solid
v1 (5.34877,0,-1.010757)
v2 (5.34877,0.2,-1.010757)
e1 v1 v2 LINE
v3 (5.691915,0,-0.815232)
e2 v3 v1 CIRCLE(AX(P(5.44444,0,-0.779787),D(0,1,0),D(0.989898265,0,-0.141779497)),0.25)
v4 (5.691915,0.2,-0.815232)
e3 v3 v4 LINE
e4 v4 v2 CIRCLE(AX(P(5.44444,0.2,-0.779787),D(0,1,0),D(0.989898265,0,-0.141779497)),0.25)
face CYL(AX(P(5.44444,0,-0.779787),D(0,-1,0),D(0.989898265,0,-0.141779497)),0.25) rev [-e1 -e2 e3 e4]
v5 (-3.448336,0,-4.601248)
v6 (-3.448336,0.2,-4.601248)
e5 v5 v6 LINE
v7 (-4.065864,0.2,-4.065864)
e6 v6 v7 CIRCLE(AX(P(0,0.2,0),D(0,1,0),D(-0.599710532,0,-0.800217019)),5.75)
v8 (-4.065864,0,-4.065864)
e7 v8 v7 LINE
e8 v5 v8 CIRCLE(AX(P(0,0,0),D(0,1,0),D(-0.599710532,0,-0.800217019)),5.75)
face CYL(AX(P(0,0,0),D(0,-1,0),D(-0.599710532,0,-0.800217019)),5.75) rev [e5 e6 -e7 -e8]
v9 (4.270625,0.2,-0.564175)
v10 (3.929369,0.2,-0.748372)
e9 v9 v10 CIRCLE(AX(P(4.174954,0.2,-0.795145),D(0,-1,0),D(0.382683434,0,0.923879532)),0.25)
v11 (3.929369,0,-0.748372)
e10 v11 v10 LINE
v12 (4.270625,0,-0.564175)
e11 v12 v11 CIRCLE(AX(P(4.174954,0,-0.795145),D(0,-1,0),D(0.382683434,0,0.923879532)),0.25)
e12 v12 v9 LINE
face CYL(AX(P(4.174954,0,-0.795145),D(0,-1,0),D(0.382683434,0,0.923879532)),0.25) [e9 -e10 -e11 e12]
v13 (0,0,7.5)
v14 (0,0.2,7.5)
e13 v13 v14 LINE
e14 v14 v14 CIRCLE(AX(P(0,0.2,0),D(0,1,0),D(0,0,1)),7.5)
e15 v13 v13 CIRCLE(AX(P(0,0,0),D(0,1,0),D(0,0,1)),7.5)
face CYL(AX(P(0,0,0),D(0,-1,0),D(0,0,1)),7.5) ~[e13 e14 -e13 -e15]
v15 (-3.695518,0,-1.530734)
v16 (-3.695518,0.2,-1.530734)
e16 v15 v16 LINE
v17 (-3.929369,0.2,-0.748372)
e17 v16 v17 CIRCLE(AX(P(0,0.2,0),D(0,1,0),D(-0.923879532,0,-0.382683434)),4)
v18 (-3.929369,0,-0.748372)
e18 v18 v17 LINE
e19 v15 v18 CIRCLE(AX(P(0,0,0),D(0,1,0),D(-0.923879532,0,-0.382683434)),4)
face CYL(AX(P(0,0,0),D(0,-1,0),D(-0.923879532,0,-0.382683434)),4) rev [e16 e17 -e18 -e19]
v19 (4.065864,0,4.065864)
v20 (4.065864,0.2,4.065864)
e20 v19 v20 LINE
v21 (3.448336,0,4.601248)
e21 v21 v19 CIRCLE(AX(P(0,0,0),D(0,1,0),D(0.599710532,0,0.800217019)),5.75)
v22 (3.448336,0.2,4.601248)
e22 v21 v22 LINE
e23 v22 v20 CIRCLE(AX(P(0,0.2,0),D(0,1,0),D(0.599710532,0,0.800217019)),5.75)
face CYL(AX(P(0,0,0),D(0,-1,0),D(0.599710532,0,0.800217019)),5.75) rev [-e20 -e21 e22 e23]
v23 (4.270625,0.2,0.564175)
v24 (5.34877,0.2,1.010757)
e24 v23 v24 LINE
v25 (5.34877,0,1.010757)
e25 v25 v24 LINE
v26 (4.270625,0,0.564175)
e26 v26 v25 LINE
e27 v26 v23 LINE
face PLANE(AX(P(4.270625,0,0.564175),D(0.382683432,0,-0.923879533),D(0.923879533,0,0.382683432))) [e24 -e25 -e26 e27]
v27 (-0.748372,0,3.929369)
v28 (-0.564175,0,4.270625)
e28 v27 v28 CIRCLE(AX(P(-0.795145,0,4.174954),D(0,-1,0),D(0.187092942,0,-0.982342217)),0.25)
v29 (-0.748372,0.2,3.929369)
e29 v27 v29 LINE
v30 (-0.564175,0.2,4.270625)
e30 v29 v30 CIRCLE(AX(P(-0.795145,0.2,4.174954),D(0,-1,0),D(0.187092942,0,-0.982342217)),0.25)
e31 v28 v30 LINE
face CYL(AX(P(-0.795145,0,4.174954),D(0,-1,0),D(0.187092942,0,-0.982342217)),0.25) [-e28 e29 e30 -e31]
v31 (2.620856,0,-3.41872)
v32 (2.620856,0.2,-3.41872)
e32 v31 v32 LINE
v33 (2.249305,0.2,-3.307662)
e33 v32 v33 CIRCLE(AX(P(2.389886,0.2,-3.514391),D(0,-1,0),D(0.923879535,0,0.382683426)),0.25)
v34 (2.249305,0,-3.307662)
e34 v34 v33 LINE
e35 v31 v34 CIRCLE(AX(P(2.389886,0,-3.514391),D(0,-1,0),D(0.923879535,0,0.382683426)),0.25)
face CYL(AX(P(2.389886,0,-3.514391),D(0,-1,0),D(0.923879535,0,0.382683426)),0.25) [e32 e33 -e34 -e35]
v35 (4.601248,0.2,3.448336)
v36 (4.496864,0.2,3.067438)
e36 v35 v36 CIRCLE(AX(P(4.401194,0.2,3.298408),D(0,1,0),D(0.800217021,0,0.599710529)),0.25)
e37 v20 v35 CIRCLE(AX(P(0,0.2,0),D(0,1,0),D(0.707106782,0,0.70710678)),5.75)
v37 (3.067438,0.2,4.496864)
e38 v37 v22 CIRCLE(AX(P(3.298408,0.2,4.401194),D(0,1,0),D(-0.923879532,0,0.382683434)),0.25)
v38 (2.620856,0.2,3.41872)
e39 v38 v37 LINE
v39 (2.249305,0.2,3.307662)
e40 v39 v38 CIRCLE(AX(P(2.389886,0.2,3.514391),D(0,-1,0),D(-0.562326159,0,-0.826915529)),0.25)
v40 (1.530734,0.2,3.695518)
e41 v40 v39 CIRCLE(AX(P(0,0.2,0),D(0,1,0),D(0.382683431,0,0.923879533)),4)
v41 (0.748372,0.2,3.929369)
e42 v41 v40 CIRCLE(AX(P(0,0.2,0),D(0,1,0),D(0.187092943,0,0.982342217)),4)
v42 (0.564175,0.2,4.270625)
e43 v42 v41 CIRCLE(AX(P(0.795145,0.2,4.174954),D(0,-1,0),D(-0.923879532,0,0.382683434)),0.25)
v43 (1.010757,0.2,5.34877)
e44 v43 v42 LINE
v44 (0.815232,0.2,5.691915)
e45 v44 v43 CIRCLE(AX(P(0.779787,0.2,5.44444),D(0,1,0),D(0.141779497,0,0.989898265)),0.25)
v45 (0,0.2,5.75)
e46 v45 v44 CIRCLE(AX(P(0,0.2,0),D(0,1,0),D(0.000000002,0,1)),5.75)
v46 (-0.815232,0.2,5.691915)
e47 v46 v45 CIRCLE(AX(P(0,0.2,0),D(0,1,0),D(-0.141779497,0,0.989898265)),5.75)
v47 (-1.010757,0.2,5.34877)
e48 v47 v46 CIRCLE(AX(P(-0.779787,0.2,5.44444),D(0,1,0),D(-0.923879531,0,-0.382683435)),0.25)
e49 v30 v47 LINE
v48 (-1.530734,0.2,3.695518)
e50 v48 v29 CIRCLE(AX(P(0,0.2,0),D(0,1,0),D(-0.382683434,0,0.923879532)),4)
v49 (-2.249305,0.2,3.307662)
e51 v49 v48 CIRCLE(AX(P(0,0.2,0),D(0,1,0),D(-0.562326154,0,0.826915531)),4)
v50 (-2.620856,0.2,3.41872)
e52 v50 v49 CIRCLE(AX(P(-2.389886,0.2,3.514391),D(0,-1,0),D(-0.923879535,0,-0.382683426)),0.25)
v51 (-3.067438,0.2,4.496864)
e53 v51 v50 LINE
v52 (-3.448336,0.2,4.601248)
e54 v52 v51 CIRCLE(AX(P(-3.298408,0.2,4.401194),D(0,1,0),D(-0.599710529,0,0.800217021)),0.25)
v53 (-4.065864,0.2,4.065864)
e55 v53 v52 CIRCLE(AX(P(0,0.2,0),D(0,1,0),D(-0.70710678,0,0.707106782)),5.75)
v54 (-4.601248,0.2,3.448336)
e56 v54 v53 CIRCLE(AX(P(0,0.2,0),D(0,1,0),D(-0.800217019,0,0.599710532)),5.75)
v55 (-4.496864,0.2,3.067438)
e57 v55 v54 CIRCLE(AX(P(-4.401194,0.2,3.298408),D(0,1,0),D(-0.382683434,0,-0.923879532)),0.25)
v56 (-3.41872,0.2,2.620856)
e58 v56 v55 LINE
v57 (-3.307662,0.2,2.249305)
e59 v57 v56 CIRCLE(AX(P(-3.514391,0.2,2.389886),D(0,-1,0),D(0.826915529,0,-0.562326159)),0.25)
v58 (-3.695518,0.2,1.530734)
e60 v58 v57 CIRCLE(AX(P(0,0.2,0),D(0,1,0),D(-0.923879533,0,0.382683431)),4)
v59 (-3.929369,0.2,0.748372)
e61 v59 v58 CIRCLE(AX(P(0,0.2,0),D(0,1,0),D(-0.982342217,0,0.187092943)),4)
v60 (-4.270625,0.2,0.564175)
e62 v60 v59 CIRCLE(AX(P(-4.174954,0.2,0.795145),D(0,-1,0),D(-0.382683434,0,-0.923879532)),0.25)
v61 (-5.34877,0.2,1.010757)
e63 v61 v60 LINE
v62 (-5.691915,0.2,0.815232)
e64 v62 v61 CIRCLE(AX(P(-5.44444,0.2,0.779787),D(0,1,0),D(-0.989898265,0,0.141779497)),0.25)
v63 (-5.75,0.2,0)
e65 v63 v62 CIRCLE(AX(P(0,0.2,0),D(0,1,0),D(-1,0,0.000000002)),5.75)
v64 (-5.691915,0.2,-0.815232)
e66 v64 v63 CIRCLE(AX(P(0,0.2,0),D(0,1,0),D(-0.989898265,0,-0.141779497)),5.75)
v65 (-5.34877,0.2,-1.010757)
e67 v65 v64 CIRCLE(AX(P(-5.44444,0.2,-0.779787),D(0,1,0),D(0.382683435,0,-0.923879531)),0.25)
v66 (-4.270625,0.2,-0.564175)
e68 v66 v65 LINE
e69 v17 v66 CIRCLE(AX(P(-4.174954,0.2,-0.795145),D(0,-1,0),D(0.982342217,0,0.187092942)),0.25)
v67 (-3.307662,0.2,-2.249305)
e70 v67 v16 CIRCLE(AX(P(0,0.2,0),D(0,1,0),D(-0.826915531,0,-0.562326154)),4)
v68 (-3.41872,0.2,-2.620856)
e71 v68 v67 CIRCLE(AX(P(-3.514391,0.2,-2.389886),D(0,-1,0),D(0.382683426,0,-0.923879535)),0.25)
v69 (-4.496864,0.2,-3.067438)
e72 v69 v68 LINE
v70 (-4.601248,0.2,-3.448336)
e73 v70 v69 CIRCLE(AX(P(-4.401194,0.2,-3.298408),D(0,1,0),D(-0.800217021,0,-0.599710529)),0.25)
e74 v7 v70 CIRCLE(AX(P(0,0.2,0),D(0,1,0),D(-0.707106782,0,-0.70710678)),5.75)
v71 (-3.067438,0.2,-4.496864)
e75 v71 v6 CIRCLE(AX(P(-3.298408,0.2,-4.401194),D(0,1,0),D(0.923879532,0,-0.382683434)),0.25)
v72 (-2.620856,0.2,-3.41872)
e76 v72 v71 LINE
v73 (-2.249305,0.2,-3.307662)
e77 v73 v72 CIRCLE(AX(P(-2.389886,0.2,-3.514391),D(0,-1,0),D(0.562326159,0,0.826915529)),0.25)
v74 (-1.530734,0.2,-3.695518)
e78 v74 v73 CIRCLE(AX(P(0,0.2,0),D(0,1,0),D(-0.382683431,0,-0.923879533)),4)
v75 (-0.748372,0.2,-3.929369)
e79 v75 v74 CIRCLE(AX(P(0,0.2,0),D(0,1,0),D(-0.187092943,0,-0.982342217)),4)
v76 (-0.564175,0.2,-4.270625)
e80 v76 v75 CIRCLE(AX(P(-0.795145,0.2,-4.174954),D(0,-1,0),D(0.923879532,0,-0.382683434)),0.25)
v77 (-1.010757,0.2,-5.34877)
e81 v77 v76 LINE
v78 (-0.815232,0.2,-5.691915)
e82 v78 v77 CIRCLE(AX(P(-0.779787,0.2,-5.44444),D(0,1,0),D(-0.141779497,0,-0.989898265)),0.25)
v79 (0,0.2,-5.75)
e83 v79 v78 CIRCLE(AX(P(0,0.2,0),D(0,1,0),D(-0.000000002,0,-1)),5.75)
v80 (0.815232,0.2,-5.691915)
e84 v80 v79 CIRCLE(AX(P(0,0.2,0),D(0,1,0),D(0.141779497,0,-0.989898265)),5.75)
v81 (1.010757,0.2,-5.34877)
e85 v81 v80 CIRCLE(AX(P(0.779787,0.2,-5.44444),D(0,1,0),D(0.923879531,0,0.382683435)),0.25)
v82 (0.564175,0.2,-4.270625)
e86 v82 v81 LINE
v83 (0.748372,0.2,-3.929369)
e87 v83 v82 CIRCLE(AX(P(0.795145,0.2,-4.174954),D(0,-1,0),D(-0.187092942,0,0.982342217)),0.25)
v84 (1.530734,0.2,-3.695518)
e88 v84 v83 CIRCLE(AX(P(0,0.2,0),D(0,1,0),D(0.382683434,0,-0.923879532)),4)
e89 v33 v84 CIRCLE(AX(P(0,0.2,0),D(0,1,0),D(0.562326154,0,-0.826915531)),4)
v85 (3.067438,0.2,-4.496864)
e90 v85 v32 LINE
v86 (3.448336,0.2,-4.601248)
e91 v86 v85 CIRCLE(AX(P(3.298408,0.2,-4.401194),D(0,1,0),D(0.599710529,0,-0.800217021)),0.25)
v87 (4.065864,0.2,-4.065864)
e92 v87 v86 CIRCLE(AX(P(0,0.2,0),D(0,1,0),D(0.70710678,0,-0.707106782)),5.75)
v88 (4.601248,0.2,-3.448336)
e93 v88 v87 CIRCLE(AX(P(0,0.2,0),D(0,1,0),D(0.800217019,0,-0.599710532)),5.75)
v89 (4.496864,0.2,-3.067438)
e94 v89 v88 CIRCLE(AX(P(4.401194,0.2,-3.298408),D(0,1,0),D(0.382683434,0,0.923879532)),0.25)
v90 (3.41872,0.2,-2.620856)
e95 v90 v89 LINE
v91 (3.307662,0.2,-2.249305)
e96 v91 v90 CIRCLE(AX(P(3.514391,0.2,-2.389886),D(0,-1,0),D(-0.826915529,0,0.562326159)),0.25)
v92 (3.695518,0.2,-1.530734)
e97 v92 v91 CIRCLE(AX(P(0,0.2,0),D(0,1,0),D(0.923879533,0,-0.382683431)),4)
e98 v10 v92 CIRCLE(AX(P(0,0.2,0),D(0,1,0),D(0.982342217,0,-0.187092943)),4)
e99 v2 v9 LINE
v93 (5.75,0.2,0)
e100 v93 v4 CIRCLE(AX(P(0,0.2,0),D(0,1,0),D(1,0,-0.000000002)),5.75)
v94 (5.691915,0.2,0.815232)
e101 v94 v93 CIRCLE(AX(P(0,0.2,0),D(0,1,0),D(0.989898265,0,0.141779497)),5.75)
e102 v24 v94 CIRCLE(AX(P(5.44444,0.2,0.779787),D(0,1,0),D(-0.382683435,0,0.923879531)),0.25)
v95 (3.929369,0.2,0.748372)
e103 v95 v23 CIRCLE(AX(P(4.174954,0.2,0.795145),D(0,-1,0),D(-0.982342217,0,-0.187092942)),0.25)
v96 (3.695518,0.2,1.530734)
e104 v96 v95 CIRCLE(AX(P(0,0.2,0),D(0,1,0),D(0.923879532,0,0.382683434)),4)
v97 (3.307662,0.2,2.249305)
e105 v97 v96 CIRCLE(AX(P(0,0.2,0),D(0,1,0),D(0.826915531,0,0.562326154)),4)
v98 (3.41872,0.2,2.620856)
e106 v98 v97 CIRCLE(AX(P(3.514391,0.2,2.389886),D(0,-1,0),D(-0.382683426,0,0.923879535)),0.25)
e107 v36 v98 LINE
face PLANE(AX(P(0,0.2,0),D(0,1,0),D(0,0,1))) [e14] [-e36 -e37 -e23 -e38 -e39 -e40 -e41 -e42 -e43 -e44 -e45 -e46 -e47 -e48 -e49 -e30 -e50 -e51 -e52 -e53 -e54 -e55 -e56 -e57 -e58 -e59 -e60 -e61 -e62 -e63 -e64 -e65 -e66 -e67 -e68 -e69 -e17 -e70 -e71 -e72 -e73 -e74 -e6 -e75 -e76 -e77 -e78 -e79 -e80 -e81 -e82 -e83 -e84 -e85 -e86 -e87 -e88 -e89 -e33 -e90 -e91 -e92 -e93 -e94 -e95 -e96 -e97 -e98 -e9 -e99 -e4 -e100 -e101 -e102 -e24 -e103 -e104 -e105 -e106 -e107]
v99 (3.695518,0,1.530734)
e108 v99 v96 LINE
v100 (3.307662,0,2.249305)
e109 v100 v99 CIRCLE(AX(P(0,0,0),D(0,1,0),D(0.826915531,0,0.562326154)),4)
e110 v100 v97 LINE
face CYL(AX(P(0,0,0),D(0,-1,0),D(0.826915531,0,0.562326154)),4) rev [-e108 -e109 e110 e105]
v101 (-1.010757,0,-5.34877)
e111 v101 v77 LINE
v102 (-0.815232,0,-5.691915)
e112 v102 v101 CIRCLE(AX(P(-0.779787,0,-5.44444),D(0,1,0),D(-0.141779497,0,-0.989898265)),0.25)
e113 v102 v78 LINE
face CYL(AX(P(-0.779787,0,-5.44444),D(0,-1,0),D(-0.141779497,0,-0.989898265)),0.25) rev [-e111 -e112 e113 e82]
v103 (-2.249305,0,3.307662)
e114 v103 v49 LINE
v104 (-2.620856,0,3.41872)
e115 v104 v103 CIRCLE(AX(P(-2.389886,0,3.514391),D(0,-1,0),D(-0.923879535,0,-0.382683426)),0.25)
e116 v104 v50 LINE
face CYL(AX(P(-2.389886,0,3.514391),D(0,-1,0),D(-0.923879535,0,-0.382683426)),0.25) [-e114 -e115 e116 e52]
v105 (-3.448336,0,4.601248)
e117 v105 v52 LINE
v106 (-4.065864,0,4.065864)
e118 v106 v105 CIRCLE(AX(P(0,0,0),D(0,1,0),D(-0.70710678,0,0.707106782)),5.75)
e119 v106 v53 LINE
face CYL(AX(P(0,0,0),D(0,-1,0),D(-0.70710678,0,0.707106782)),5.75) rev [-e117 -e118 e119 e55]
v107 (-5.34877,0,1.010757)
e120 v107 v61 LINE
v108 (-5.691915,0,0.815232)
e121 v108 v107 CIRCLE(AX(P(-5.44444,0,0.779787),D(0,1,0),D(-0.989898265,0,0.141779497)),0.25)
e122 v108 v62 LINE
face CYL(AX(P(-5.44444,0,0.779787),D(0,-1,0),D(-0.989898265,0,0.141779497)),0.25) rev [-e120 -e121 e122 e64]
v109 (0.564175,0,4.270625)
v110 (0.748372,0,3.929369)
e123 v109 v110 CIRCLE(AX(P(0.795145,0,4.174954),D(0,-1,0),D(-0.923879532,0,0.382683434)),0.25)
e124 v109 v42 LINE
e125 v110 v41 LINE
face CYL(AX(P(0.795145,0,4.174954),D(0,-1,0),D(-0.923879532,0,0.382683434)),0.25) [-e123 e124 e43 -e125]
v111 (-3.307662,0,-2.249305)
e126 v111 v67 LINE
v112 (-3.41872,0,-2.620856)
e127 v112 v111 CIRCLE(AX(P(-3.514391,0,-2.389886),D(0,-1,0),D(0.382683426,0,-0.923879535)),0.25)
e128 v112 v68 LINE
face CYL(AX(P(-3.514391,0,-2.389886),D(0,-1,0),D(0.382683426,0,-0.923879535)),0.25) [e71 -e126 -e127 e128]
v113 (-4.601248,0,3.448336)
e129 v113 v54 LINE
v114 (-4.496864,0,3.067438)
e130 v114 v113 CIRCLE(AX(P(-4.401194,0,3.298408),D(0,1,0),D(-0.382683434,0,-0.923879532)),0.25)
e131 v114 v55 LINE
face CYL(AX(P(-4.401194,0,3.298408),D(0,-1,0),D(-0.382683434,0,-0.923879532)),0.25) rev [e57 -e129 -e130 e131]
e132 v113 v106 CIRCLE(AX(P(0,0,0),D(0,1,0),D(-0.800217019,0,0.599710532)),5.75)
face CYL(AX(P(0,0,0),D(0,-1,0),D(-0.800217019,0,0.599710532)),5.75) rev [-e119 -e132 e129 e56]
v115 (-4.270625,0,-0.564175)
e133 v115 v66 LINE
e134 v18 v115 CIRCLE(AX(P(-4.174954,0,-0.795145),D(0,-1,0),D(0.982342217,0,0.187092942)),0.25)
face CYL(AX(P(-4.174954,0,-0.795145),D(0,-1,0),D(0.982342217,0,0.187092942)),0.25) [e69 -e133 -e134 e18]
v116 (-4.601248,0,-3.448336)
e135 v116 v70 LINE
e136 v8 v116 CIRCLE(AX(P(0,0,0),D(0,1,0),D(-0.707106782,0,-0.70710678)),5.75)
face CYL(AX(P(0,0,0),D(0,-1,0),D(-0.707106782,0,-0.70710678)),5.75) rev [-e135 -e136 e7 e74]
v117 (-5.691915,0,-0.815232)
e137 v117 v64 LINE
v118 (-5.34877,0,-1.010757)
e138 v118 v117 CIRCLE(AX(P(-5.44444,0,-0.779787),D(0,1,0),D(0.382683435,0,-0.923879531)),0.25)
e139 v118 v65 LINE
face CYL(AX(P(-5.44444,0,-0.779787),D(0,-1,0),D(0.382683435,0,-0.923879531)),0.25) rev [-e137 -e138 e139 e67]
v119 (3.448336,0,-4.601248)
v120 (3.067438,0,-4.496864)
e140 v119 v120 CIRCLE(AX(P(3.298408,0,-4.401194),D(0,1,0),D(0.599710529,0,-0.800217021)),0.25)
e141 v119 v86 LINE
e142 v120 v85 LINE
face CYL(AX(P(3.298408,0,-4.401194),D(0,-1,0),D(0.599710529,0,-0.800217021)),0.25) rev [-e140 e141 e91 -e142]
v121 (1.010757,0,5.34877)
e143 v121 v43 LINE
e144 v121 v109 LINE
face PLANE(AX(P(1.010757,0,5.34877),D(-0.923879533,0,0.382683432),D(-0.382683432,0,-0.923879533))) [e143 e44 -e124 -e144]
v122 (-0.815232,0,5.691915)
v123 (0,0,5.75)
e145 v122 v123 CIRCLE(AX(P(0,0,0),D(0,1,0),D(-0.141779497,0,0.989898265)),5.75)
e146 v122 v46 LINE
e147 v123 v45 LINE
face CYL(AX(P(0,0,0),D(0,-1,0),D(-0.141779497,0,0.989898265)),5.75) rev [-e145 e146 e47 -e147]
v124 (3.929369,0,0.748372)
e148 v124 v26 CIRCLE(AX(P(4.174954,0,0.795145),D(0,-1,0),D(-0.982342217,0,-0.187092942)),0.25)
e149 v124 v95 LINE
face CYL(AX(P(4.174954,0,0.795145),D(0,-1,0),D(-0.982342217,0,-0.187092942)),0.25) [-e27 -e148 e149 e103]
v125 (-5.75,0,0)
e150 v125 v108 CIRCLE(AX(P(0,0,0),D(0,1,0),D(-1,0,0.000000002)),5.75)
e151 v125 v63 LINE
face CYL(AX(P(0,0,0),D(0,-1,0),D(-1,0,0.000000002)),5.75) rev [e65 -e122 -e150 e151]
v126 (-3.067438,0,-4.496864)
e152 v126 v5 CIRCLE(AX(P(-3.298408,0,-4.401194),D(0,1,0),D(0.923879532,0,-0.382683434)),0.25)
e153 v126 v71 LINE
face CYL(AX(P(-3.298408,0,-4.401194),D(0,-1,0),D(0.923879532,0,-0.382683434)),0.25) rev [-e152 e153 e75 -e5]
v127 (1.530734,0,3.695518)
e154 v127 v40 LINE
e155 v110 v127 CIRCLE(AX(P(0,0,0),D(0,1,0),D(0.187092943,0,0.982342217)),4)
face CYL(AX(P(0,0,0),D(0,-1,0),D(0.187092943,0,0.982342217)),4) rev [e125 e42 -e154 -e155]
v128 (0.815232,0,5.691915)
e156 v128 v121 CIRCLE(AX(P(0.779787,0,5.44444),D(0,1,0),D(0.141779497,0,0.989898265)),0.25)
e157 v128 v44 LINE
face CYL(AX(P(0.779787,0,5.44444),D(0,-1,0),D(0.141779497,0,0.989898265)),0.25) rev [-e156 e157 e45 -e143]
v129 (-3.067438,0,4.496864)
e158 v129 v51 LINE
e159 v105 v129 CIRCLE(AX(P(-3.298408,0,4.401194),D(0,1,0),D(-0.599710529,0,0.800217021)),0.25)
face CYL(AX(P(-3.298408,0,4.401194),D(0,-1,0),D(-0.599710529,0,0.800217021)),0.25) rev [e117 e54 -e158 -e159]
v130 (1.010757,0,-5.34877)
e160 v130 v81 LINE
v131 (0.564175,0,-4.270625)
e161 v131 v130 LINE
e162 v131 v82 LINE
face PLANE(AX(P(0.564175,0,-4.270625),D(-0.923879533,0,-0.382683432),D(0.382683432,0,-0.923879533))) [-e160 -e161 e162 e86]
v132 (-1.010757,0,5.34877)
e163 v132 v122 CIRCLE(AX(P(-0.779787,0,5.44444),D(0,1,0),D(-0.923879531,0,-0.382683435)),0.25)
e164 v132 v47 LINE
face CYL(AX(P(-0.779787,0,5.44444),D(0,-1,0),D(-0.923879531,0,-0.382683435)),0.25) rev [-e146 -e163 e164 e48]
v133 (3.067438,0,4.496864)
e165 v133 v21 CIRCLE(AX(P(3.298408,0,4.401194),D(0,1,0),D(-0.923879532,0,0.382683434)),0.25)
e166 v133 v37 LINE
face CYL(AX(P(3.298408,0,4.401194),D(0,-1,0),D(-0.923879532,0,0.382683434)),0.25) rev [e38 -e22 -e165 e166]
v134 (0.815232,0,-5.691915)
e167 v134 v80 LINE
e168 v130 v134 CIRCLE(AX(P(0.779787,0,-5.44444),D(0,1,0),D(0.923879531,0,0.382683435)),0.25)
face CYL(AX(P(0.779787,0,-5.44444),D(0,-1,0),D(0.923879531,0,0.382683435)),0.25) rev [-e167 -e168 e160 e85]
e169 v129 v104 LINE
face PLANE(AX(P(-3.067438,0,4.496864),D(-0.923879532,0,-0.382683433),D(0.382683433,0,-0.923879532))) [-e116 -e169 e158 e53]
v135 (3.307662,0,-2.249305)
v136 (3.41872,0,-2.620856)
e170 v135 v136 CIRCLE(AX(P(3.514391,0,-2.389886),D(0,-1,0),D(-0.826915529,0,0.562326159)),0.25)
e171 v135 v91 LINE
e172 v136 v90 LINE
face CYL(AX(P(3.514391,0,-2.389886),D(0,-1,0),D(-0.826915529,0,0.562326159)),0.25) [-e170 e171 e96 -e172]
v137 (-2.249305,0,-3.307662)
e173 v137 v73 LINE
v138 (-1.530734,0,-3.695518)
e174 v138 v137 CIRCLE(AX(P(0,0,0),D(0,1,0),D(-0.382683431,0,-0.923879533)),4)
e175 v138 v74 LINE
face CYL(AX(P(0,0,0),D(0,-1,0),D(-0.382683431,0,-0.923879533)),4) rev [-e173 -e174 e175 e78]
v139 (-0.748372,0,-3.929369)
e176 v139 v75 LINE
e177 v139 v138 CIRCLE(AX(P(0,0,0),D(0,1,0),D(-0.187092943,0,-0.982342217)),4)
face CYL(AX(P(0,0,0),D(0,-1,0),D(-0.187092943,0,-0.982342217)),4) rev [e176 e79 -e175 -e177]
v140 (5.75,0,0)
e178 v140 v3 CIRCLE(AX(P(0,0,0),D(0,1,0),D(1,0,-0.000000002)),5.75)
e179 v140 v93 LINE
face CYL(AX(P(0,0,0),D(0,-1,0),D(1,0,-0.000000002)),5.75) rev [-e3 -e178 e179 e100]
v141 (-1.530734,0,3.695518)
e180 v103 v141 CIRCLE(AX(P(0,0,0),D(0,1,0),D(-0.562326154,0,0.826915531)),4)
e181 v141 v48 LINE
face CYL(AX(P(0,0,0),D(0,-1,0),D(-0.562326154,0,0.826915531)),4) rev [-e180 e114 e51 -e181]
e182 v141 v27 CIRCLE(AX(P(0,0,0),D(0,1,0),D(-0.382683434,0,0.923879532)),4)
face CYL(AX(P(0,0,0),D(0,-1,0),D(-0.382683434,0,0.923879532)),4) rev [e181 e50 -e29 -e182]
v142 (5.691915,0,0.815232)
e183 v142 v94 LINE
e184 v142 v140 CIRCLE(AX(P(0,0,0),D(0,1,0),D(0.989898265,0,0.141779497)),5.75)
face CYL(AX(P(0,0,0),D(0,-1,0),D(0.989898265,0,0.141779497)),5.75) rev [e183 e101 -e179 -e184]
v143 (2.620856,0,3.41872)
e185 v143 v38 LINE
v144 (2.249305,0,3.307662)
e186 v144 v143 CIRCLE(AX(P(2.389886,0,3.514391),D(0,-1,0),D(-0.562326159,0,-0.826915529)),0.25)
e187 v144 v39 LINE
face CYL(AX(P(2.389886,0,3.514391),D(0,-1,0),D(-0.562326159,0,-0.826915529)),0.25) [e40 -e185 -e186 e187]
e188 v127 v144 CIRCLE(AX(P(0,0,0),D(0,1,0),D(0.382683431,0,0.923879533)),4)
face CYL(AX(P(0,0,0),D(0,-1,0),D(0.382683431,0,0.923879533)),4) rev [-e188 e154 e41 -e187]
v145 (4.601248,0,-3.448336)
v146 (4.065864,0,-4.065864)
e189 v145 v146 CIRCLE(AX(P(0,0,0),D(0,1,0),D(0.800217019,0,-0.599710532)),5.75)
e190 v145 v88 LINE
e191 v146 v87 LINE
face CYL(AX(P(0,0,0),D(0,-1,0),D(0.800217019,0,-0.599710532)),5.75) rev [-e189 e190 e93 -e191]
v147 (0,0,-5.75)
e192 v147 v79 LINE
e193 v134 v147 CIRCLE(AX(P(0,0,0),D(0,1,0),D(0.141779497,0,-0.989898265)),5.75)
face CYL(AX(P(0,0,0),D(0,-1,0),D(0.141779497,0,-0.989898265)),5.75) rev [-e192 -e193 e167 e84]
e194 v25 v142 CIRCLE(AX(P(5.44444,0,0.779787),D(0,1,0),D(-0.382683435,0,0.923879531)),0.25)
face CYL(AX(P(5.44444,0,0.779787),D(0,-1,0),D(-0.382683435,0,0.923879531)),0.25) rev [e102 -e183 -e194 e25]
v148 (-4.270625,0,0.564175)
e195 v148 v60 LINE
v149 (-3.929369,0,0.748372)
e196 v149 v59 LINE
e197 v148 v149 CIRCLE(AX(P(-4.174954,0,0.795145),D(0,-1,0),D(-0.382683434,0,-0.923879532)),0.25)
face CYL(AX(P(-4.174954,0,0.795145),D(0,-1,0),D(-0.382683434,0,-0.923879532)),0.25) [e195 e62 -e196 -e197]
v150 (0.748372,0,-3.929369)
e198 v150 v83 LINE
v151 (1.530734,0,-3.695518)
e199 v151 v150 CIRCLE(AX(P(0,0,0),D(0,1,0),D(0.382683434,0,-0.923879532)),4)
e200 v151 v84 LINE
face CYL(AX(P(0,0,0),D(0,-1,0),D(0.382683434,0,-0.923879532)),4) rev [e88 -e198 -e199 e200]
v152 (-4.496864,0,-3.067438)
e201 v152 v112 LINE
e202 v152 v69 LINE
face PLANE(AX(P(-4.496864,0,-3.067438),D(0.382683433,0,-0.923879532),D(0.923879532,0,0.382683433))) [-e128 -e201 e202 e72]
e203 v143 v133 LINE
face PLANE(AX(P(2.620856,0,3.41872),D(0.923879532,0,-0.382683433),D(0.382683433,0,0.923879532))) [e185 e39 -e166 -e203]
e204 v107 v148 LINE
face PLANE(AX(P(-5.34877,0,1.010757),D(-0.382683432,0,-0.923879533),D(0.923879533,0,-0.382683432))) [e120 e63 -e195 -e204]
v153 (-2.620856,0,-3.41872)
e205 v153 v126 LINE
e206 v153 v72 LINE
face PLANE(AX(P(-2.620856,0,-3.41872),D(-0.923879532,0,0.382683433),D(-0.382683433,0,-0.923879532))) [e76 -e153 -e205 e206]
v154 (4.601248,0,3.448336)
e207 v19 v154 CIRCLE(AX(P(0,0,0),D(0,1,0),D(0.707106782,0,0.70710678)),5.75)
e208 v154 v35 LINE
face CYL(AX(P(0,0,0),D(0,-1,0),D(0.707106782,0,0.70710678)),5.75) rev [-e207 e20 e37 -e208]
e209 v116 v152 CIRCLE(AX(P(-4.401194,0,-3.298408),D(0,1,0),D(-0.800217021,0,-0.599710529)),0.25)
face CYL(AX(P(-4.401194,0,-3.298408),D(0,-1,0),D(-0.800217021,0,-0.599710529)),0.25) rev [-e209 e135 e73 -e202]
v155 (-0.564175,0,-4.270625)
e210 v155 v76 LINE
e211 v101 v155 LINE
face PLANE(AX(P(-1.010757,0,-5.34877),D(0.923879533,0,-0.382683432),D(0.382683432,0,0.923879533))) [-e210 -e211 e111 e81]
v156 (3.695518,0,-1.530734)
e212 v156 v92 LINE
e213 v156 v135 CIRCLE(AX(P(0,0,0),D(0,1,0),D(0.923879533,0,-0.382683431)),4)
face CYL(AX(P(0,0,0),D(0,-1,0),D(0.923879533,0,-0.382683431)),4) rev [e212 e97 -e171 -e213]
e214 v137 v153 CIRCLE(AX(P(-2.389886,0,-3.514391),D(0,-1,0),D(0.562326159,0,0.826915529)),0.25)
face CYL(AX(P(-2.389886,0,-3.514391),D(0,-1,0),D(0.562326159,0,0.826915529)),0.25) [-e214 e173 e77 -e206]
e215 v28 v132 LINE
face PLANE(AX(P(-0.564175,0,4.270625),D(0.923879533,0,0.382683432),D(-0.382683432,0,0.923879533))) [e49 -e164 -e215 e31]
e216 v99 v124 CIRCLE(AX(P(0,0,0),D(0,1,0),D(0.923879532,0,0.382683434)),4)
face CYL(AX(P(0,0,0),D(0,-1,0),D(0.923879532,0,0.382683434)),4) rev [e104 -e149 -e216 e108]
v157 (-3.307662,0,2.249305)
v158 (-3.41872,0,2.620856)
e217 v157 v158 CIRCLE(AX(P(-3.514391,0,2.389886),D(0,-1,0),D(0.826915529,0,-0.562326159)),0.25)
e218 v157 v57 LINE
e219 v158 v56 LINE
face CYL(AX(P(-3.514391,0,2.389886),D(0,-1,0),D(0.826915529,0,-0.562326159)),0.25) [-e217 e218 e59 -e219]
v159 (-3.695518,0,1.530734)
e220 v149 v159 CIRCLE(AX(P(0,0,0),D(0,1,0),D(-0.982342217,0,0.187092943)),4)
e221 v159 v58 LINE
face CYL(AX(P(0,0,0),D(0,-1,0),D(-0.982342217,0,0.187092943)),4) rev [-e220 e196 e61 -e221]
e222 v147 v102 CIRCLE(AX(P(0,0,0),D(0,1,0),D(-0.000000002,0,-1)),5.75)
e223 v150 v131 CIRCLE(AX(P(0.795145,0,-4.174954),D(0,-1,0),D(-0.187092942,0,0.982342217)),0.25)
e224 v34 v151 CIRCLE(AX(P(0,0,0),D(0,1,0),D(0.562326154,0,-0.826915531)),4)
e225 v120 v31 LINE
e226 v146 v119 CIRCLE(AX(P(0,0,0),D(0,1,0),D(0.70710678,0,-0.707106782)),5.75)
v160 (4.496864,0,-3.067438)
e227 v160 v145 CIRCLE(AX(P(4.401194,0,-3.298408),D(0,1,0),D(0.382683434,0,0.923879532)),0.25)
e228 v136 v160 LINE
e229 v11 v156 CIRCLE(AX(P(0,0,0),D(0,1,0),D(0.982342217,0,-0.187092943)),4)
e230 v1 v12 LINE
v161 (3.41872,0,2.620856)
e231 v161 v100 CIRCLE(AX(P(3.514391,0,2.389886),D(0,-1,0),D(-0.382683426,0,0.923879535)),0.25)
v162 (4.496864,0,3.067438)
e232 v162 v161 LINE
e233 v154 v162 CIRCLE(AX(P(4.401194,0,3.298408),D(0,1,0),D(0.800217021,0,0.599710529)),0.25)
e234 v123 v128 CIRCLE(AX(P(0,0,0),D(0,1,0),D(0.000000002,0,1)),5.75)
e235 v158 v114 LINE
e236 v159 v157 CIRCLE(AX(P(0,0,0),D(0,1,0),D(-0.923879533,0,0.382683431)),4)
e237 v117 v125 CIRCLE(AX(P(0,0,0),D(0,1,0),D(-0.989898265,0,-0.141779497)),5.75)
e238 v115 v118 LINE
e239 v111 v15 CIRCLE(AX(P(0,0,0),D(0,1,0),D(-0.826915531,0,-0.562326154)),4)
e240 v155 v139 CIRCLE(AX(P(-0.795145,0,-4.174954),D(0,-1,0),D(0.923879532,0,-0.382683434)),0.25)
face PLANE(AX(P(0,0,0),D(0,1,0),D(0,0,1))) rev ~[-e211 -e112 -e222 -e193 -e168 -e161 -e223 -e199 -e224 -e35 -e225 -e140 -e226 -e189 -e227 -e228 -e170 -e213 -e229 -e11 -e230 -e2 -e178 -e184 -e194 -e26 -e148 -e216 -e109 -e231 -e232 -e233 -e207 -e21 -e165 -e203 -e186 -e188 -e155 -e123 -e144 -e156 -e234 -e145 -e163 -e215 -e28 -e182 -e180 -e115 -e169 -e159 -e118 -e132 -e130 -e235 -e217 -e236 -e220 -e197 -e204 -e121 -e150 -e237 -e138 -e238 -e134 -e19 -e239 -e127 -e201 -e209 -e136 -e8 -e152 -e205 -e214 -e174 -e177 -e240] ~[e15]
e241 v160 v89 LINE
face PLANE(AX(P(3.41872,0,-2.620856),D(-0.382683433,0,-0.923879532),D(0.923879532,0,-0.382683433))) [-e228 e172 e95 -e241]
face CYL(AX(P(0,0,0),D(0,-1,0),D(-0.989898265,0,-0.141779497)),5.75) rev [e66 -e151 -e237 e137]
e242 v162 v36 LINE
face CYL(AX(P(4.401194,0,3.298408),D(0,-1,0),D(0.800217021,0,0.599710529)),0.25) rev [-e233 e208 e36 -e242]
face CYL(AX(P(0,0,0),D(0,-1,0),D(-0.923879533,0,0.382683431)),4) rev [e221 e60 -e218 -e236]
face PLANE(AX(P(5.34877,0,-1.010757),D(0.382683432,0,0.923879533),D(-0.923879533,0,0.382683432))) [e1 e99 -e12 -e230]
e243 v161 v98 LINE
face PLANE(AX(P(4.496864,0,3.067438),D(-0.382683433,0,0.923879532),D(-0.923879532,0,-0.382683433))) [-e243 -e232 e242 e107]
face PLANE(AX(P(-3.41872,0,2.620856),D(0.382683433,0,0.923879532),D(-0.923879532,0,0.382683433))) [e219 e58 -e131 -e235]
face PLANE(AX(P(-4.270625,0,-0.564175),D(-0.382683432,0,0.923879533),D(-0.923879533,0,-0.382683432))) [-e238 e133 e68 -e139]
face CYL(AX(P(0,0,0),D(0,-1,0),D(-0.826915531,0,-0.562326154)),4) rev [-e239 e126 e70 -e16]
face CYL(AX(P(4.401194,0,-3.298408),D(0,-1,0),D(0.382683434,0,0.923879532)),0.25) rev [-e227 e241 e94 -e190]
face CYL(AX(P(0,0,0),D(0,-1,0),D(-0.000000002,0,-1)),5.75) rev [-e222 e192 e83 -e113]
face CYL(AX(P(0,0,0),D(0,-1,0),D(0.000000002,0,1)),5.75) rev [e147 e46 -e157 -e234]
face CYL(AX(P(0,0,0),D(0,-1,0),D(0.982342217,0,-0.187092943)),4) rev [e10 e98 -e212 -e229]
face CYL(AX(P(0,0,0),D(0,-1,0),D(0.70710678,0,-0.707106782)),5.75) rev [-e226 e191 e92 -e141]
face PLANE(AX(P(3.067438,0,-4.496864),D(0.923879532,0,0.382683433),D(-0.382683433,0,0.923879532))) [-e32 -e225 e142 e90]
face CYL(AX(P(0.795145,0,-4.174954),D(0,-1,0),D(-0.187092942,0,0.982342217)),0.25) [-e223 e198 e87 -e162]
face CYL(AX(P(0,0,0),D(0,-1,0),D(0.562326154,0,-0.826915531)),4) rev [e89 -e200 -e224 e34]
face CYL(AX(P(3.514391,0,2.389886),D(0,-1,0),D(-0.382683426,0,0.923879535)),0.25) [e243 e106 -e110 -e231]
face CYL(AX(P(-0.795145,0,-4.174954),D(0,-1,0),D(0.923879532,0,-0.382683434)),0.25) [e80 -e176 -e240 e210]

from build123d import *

# Parameters (mm, degrees)
SKETCH1_R           = 7.5
BOSS_EXTRUDE1_DEPTH = 0.2


with BuildPart() as part:
    # Sketch1 → Boss-Extrude1 (new body)
    with BuildSketch(Plane(origin=(0, 0, 0), x_dir=(1, 0, 0), z_dir=(0, 1, 0))):
        with Locations(Location((0, 0, 0), (0, 0, 270))):
            Circle(SKETCH1_R)
        with BuildLine():
            Line((4.270625279, -0.564175126), (5.348769596, -1.010757124))
            ThreePointArc((5.348769596, -1.010757124), (5.568208781, -0.997000043), (5.69191502, -0.815232116))
            ThreePointArc((5.69191502, -0.815232116), (5.735460372, -0.408649381), (5.75, 0))
            ThreePointArc((5.75, 0), (5.735460372, 0.408649381), (5.69191502, 0.815232116))
            ThreePointArc((5.69191502, 0.815232116), (5.568208781, 0.997000043), (5.348769596, 1.010757124))
            Line((5.348769596, 1.010757124), (4.270625279, 0.564175126))
            ThreePointArc((4.270625279, 0.564175126), (4.05620803, 0.575146612), (3.929368867, 0.748371773))
            ThreePointArc((3.929368867, 0.748371773), (3.832459783, 1.145535689), (3.69551813, 1.530733729))
            ThreePointArc((3.69551813, 1.530733729), (3.519974355, 1.899942247), (3.307662127, 2.249304616))
            ThreePointArc((3.307662127, 2.249304616), (3.274862273, 2.461482135), (3.418720152, 2.620856037))
            Line((3.418720152, 2.620856037), (4.496864469, 3.067438036))
            ThreePointArc((4.496864469, 3.067438036), (4.642303679, 3.232332697), (4.601247866, 3.448335552))
            ThreePointArc((4.601247866, 3.448335552), (4.344541671, 3.766624174), (4.065863992, 4.065863992))
            ThreePointArc((4.065863992, 4.065863992), (3.766624174, 4.344541671), (3.448335552, 4.601247866))
            ThreePointArc((3.448335552, 4.601247866), (3.232332697, 4.642303679), (3.067438036, 4.496864469))
            Line((3.067438036, 4.496864469), (2.620856037, 3.418720152))
            ThreePointArc((2.620856037, 3.418720152), (2.461482135, 3.274862273), (2.249304616, 3.307662127))
            ThreePointArc((2.249304616, 3.307662127), (1.899942247, 3.519974355), (1.530733729, 3.69551813))
            ThreePointArc((1.530733729, 3.69551813), (1.145535689, 3.832459783), (0.748371773, 3.929368867))
            ThreePointArc((0.748371773, 3.929368867), (0.575146612, 4.05620803), (0.564175126, 4.270625279))
            Line((0.564175126, 4.270625279), (1.010757124, 5.348769596))
            ThreePointArc((1.010757124, 5.348769596), (0.997000043, 5.568208781), (0.815232116, 5.69191502))
            ThreePointArc((0.815232116, 5.69191502), (0.408649381, 5.735460372), (0, 5.75))
            ThreePointArc((0, 5.75), (-0.408649381, 5.735460372), (-0.815232116, 5.69191502))
            ThreePointArc((-0.815232116, 5.69191502), (-0.997000043, 5.568208781), (-1.010757124, 5.348769596))
            Line((-1.010757124, 5.348769596), (-0.564175126, 4.270625279))
            ThreePointArc((-0.564175126, 4.270625279), (-0.575146612, 4.05620803), (-0.748371773, 3.929368867))
            ThreePointArc((-0.748371773, 3.929368867), (-1.145535689, 3.832459783), (-1.530733729, 3.69551813))
            ThreePointArc((-1.530733729, 3.69551813), (-1.899942247, 3.519974355), (-2.249304616, 3.307662127))
            ThreePointArc((-2.249304616, 3.307662127), (-2.461482135, 3.274862273), (-2.620856037, 3.418720152))
            Line((-2.620856037, 3.418720152), (-3.067438036, 4.496864469))
            ThreePointArc((-3.067438036, 4.496864469), (-3.232332697, 4.642303679), (-3.448335552, 4.601247866))
            ThreePointArc((-3.448335552, 4.601247866), (-3.766624174, 4.344541671), (-4.065863992, 4.065863992))
            ThreePointArc((-4.065863992, 4.065863992), (-4.344541671, 3.766624174), (-4.601247866, 3.448335552))
            ThreePointArc((-4.601247866, 3.448335552), (-4.642303679, 3.232332697), (-4.496864469, 3.067438036))
            Line((-4.496864469, 3.067438036), (-3.418720152, 2.620856037))
            ThreePointArc((-3.418720152, 2.620856037), (-3.274862273, 2.461482135), (-3.307662127, 2.249304616))
            ThreePointArc((-3.307662127, 2.249304616), (-3.519974355, 1.899942247), (-3.69551813, 1.530733729))
            ThreePointArc((-3.69551813, 1.530733729), (-3.832459783, 1.145535689), (-3.929368867, 0.748371773))
            ThreePointArc((-3.929368867, 0.748371773), (-4.05620803, 0.575146612), (-4.270625279, 0.564175126))
            Line((-4.270625279, 0.564175126), (-5.348769596, 1.010757124))
            ThreePointArc((-5.348769596, 1.010757124), (-5.568208781, 0.997000043), (-5.69191502, 0.815232116))
            ThreePointArc((-5.69191502, 0.815232116), (-5.735460372, 0.408649381), (-5.75, 0))
            ThreePointArc((-5.75, 0), (-5.735460372, -0.408649381), (-5.69191502, -0.815232116))
            ThreePointArc((-5.69191502, -0.815232116), (-5.568208781, -0.997000043), (-5.348769596, -1.010757124))
            Line((-5.348769596, -1.010757124), (-4.270625279, -0.564175126))
            ThreePointArc((-4.270625279, -0.564175126), (-4.05620803, -0.575146612), (-3.929368867, -0.748371773))
            ThreePointArc((-3.929368867, -0.748371773), (-3.832459783, -1.145535689), (-3.69551813, -1.530733729))
            ThreePointArc((-3.69551813, -1.530733729), (-3.519974355, -1.899942247), (-3.307662127, -2.249304616))
            ThreePointArc((-3.307662127, -2.249304616), (-3.274862273, -2.461482135), (-3.418720152, -2.620856037))
            Line((-3.418720152, -2.620856037), (-4.496864469, -3.067438036))
            ThreePointArc((-4.496864469, -3.067438036), (-4.642303679, -3.232332697), (-4.601247866, -3.448335552))
            ThreePointArc((-4.601247866, -3.448335552), (-4.344541671, -3.766624174), (-4.065863992, -4.065863992))
            ThreePointArc((-4.065863992, -4.065863992), (-3.766624174, -4.344541671), (-3.448335552, -4.601247866))
            ThreePointArc((-3.448335552, -4.601247866), (-3.232332697, -4.642303679), (-3.067438036, -4.496864469))
            Line((-3.067438036, -4.496864469), (-2.620856037, -3.418720152))
            ThreePointArc((-2.620856037, -3.418720152), (-2.461482135, -3.274862273), (-2.249304616, -3.307662127))
            ThreePointArc((-2.249304616, -3.307662127), (-1.899942247, -3.519974355), (-1.530733729, -3.69551813))
            ThreePointArc((-1.530733729, -3.69551813), (-1.145535689, -3.832459783), (-0.748371773, -3.929368867))
            ThreePointArc((-0.748371773, -3.929368867), (-0.575146612, -4.05620803), (-0.564175126, -4.270625279))
            Line((-0.564175126, -4.270625279), (-1.010757124, -5.348769596))
            ThreePointArc((-1.010757124, -5.348769596), (-0.997000043, -5.568208781), (-0.815232116, -5.69191502))
            ThreePointArc((-0.815232116, -5.69191502), (-0.408649381, -5.735460372), (0, -5.75))
            ThreePointArc((0, -5.75), (0.408649381, -5.735460372), (0.815232116, -5.69191502))
            ThreePointArc((0.815232116, -5.69191502), (0.997000043, -5.568208781), (1.010757124, -5.348769596))
            Line((1.010757124, -5.348769596), (0.564175126, -4.270625279))
            ThreePointArc((0.564175126, -4.270625279), (0.575146612, -4.05620803), (0.748371773, -3.929368867))
            ThreePointArc((0.748371773, -3.929368867), (1.145535689, -3.832459783), (1.530733729, -3.69551813))
            ThreePointArc((1.530733729, -3.69551813), (1.899942247, -3.519974355), (2.249304616, -3.307662127))
            ThreePointArc((2.249304616, -3.307662127), (2.461482135, -3.274862273), (2.620856037, -3.418720152))
            Line((2.620856037, -3.418720152), (3.067438036, -4.496864469))
            ThreePointArc((3.067438036, -4.496864469), (3.232332697, -4.642303679), (3.448335552, -4.601247866))
            ThreePointArc((3.448335552, -4.601247866), (3.766624174, -4.344541671), (4.065863992, -4.065863992))
            ThreePointArc((4.065863992, -4.065863992), (4.344541671, -3.766624174), (4.601247866, -3.448335552))
            ThreePointArc((4.601247866, -3.448335552), (4.642303679, -3.232332697), (4.496864469, -3.067438036))
            Line((4.496864469, -3.067438036), (3.418720152, -2.620856037))
            ThreePointArc((3.418720152, -2.620856037), (3.274862273, -2.461482135), (3.307662127, -2.249304616))
            ThreePointArc((3.307662127, -2.249304616), (3.519974355, -1.899942247), (3.69551813, -1.530733729))
            ThreePointArc((3.69551813, -1.530733729), (3.832459783, -1.145535689), (3.929368867, -0.748371773))
            ThreePointArc((3.929368867, -0.748371773), (4.05620803, -0.575146612), (4.270625279, -0.564175126))
        make_face(mode=Mode.SUBTRACT)
    extrude(amount=BOSS_EXTRUDE1_DEPTH)


solid = part.part
